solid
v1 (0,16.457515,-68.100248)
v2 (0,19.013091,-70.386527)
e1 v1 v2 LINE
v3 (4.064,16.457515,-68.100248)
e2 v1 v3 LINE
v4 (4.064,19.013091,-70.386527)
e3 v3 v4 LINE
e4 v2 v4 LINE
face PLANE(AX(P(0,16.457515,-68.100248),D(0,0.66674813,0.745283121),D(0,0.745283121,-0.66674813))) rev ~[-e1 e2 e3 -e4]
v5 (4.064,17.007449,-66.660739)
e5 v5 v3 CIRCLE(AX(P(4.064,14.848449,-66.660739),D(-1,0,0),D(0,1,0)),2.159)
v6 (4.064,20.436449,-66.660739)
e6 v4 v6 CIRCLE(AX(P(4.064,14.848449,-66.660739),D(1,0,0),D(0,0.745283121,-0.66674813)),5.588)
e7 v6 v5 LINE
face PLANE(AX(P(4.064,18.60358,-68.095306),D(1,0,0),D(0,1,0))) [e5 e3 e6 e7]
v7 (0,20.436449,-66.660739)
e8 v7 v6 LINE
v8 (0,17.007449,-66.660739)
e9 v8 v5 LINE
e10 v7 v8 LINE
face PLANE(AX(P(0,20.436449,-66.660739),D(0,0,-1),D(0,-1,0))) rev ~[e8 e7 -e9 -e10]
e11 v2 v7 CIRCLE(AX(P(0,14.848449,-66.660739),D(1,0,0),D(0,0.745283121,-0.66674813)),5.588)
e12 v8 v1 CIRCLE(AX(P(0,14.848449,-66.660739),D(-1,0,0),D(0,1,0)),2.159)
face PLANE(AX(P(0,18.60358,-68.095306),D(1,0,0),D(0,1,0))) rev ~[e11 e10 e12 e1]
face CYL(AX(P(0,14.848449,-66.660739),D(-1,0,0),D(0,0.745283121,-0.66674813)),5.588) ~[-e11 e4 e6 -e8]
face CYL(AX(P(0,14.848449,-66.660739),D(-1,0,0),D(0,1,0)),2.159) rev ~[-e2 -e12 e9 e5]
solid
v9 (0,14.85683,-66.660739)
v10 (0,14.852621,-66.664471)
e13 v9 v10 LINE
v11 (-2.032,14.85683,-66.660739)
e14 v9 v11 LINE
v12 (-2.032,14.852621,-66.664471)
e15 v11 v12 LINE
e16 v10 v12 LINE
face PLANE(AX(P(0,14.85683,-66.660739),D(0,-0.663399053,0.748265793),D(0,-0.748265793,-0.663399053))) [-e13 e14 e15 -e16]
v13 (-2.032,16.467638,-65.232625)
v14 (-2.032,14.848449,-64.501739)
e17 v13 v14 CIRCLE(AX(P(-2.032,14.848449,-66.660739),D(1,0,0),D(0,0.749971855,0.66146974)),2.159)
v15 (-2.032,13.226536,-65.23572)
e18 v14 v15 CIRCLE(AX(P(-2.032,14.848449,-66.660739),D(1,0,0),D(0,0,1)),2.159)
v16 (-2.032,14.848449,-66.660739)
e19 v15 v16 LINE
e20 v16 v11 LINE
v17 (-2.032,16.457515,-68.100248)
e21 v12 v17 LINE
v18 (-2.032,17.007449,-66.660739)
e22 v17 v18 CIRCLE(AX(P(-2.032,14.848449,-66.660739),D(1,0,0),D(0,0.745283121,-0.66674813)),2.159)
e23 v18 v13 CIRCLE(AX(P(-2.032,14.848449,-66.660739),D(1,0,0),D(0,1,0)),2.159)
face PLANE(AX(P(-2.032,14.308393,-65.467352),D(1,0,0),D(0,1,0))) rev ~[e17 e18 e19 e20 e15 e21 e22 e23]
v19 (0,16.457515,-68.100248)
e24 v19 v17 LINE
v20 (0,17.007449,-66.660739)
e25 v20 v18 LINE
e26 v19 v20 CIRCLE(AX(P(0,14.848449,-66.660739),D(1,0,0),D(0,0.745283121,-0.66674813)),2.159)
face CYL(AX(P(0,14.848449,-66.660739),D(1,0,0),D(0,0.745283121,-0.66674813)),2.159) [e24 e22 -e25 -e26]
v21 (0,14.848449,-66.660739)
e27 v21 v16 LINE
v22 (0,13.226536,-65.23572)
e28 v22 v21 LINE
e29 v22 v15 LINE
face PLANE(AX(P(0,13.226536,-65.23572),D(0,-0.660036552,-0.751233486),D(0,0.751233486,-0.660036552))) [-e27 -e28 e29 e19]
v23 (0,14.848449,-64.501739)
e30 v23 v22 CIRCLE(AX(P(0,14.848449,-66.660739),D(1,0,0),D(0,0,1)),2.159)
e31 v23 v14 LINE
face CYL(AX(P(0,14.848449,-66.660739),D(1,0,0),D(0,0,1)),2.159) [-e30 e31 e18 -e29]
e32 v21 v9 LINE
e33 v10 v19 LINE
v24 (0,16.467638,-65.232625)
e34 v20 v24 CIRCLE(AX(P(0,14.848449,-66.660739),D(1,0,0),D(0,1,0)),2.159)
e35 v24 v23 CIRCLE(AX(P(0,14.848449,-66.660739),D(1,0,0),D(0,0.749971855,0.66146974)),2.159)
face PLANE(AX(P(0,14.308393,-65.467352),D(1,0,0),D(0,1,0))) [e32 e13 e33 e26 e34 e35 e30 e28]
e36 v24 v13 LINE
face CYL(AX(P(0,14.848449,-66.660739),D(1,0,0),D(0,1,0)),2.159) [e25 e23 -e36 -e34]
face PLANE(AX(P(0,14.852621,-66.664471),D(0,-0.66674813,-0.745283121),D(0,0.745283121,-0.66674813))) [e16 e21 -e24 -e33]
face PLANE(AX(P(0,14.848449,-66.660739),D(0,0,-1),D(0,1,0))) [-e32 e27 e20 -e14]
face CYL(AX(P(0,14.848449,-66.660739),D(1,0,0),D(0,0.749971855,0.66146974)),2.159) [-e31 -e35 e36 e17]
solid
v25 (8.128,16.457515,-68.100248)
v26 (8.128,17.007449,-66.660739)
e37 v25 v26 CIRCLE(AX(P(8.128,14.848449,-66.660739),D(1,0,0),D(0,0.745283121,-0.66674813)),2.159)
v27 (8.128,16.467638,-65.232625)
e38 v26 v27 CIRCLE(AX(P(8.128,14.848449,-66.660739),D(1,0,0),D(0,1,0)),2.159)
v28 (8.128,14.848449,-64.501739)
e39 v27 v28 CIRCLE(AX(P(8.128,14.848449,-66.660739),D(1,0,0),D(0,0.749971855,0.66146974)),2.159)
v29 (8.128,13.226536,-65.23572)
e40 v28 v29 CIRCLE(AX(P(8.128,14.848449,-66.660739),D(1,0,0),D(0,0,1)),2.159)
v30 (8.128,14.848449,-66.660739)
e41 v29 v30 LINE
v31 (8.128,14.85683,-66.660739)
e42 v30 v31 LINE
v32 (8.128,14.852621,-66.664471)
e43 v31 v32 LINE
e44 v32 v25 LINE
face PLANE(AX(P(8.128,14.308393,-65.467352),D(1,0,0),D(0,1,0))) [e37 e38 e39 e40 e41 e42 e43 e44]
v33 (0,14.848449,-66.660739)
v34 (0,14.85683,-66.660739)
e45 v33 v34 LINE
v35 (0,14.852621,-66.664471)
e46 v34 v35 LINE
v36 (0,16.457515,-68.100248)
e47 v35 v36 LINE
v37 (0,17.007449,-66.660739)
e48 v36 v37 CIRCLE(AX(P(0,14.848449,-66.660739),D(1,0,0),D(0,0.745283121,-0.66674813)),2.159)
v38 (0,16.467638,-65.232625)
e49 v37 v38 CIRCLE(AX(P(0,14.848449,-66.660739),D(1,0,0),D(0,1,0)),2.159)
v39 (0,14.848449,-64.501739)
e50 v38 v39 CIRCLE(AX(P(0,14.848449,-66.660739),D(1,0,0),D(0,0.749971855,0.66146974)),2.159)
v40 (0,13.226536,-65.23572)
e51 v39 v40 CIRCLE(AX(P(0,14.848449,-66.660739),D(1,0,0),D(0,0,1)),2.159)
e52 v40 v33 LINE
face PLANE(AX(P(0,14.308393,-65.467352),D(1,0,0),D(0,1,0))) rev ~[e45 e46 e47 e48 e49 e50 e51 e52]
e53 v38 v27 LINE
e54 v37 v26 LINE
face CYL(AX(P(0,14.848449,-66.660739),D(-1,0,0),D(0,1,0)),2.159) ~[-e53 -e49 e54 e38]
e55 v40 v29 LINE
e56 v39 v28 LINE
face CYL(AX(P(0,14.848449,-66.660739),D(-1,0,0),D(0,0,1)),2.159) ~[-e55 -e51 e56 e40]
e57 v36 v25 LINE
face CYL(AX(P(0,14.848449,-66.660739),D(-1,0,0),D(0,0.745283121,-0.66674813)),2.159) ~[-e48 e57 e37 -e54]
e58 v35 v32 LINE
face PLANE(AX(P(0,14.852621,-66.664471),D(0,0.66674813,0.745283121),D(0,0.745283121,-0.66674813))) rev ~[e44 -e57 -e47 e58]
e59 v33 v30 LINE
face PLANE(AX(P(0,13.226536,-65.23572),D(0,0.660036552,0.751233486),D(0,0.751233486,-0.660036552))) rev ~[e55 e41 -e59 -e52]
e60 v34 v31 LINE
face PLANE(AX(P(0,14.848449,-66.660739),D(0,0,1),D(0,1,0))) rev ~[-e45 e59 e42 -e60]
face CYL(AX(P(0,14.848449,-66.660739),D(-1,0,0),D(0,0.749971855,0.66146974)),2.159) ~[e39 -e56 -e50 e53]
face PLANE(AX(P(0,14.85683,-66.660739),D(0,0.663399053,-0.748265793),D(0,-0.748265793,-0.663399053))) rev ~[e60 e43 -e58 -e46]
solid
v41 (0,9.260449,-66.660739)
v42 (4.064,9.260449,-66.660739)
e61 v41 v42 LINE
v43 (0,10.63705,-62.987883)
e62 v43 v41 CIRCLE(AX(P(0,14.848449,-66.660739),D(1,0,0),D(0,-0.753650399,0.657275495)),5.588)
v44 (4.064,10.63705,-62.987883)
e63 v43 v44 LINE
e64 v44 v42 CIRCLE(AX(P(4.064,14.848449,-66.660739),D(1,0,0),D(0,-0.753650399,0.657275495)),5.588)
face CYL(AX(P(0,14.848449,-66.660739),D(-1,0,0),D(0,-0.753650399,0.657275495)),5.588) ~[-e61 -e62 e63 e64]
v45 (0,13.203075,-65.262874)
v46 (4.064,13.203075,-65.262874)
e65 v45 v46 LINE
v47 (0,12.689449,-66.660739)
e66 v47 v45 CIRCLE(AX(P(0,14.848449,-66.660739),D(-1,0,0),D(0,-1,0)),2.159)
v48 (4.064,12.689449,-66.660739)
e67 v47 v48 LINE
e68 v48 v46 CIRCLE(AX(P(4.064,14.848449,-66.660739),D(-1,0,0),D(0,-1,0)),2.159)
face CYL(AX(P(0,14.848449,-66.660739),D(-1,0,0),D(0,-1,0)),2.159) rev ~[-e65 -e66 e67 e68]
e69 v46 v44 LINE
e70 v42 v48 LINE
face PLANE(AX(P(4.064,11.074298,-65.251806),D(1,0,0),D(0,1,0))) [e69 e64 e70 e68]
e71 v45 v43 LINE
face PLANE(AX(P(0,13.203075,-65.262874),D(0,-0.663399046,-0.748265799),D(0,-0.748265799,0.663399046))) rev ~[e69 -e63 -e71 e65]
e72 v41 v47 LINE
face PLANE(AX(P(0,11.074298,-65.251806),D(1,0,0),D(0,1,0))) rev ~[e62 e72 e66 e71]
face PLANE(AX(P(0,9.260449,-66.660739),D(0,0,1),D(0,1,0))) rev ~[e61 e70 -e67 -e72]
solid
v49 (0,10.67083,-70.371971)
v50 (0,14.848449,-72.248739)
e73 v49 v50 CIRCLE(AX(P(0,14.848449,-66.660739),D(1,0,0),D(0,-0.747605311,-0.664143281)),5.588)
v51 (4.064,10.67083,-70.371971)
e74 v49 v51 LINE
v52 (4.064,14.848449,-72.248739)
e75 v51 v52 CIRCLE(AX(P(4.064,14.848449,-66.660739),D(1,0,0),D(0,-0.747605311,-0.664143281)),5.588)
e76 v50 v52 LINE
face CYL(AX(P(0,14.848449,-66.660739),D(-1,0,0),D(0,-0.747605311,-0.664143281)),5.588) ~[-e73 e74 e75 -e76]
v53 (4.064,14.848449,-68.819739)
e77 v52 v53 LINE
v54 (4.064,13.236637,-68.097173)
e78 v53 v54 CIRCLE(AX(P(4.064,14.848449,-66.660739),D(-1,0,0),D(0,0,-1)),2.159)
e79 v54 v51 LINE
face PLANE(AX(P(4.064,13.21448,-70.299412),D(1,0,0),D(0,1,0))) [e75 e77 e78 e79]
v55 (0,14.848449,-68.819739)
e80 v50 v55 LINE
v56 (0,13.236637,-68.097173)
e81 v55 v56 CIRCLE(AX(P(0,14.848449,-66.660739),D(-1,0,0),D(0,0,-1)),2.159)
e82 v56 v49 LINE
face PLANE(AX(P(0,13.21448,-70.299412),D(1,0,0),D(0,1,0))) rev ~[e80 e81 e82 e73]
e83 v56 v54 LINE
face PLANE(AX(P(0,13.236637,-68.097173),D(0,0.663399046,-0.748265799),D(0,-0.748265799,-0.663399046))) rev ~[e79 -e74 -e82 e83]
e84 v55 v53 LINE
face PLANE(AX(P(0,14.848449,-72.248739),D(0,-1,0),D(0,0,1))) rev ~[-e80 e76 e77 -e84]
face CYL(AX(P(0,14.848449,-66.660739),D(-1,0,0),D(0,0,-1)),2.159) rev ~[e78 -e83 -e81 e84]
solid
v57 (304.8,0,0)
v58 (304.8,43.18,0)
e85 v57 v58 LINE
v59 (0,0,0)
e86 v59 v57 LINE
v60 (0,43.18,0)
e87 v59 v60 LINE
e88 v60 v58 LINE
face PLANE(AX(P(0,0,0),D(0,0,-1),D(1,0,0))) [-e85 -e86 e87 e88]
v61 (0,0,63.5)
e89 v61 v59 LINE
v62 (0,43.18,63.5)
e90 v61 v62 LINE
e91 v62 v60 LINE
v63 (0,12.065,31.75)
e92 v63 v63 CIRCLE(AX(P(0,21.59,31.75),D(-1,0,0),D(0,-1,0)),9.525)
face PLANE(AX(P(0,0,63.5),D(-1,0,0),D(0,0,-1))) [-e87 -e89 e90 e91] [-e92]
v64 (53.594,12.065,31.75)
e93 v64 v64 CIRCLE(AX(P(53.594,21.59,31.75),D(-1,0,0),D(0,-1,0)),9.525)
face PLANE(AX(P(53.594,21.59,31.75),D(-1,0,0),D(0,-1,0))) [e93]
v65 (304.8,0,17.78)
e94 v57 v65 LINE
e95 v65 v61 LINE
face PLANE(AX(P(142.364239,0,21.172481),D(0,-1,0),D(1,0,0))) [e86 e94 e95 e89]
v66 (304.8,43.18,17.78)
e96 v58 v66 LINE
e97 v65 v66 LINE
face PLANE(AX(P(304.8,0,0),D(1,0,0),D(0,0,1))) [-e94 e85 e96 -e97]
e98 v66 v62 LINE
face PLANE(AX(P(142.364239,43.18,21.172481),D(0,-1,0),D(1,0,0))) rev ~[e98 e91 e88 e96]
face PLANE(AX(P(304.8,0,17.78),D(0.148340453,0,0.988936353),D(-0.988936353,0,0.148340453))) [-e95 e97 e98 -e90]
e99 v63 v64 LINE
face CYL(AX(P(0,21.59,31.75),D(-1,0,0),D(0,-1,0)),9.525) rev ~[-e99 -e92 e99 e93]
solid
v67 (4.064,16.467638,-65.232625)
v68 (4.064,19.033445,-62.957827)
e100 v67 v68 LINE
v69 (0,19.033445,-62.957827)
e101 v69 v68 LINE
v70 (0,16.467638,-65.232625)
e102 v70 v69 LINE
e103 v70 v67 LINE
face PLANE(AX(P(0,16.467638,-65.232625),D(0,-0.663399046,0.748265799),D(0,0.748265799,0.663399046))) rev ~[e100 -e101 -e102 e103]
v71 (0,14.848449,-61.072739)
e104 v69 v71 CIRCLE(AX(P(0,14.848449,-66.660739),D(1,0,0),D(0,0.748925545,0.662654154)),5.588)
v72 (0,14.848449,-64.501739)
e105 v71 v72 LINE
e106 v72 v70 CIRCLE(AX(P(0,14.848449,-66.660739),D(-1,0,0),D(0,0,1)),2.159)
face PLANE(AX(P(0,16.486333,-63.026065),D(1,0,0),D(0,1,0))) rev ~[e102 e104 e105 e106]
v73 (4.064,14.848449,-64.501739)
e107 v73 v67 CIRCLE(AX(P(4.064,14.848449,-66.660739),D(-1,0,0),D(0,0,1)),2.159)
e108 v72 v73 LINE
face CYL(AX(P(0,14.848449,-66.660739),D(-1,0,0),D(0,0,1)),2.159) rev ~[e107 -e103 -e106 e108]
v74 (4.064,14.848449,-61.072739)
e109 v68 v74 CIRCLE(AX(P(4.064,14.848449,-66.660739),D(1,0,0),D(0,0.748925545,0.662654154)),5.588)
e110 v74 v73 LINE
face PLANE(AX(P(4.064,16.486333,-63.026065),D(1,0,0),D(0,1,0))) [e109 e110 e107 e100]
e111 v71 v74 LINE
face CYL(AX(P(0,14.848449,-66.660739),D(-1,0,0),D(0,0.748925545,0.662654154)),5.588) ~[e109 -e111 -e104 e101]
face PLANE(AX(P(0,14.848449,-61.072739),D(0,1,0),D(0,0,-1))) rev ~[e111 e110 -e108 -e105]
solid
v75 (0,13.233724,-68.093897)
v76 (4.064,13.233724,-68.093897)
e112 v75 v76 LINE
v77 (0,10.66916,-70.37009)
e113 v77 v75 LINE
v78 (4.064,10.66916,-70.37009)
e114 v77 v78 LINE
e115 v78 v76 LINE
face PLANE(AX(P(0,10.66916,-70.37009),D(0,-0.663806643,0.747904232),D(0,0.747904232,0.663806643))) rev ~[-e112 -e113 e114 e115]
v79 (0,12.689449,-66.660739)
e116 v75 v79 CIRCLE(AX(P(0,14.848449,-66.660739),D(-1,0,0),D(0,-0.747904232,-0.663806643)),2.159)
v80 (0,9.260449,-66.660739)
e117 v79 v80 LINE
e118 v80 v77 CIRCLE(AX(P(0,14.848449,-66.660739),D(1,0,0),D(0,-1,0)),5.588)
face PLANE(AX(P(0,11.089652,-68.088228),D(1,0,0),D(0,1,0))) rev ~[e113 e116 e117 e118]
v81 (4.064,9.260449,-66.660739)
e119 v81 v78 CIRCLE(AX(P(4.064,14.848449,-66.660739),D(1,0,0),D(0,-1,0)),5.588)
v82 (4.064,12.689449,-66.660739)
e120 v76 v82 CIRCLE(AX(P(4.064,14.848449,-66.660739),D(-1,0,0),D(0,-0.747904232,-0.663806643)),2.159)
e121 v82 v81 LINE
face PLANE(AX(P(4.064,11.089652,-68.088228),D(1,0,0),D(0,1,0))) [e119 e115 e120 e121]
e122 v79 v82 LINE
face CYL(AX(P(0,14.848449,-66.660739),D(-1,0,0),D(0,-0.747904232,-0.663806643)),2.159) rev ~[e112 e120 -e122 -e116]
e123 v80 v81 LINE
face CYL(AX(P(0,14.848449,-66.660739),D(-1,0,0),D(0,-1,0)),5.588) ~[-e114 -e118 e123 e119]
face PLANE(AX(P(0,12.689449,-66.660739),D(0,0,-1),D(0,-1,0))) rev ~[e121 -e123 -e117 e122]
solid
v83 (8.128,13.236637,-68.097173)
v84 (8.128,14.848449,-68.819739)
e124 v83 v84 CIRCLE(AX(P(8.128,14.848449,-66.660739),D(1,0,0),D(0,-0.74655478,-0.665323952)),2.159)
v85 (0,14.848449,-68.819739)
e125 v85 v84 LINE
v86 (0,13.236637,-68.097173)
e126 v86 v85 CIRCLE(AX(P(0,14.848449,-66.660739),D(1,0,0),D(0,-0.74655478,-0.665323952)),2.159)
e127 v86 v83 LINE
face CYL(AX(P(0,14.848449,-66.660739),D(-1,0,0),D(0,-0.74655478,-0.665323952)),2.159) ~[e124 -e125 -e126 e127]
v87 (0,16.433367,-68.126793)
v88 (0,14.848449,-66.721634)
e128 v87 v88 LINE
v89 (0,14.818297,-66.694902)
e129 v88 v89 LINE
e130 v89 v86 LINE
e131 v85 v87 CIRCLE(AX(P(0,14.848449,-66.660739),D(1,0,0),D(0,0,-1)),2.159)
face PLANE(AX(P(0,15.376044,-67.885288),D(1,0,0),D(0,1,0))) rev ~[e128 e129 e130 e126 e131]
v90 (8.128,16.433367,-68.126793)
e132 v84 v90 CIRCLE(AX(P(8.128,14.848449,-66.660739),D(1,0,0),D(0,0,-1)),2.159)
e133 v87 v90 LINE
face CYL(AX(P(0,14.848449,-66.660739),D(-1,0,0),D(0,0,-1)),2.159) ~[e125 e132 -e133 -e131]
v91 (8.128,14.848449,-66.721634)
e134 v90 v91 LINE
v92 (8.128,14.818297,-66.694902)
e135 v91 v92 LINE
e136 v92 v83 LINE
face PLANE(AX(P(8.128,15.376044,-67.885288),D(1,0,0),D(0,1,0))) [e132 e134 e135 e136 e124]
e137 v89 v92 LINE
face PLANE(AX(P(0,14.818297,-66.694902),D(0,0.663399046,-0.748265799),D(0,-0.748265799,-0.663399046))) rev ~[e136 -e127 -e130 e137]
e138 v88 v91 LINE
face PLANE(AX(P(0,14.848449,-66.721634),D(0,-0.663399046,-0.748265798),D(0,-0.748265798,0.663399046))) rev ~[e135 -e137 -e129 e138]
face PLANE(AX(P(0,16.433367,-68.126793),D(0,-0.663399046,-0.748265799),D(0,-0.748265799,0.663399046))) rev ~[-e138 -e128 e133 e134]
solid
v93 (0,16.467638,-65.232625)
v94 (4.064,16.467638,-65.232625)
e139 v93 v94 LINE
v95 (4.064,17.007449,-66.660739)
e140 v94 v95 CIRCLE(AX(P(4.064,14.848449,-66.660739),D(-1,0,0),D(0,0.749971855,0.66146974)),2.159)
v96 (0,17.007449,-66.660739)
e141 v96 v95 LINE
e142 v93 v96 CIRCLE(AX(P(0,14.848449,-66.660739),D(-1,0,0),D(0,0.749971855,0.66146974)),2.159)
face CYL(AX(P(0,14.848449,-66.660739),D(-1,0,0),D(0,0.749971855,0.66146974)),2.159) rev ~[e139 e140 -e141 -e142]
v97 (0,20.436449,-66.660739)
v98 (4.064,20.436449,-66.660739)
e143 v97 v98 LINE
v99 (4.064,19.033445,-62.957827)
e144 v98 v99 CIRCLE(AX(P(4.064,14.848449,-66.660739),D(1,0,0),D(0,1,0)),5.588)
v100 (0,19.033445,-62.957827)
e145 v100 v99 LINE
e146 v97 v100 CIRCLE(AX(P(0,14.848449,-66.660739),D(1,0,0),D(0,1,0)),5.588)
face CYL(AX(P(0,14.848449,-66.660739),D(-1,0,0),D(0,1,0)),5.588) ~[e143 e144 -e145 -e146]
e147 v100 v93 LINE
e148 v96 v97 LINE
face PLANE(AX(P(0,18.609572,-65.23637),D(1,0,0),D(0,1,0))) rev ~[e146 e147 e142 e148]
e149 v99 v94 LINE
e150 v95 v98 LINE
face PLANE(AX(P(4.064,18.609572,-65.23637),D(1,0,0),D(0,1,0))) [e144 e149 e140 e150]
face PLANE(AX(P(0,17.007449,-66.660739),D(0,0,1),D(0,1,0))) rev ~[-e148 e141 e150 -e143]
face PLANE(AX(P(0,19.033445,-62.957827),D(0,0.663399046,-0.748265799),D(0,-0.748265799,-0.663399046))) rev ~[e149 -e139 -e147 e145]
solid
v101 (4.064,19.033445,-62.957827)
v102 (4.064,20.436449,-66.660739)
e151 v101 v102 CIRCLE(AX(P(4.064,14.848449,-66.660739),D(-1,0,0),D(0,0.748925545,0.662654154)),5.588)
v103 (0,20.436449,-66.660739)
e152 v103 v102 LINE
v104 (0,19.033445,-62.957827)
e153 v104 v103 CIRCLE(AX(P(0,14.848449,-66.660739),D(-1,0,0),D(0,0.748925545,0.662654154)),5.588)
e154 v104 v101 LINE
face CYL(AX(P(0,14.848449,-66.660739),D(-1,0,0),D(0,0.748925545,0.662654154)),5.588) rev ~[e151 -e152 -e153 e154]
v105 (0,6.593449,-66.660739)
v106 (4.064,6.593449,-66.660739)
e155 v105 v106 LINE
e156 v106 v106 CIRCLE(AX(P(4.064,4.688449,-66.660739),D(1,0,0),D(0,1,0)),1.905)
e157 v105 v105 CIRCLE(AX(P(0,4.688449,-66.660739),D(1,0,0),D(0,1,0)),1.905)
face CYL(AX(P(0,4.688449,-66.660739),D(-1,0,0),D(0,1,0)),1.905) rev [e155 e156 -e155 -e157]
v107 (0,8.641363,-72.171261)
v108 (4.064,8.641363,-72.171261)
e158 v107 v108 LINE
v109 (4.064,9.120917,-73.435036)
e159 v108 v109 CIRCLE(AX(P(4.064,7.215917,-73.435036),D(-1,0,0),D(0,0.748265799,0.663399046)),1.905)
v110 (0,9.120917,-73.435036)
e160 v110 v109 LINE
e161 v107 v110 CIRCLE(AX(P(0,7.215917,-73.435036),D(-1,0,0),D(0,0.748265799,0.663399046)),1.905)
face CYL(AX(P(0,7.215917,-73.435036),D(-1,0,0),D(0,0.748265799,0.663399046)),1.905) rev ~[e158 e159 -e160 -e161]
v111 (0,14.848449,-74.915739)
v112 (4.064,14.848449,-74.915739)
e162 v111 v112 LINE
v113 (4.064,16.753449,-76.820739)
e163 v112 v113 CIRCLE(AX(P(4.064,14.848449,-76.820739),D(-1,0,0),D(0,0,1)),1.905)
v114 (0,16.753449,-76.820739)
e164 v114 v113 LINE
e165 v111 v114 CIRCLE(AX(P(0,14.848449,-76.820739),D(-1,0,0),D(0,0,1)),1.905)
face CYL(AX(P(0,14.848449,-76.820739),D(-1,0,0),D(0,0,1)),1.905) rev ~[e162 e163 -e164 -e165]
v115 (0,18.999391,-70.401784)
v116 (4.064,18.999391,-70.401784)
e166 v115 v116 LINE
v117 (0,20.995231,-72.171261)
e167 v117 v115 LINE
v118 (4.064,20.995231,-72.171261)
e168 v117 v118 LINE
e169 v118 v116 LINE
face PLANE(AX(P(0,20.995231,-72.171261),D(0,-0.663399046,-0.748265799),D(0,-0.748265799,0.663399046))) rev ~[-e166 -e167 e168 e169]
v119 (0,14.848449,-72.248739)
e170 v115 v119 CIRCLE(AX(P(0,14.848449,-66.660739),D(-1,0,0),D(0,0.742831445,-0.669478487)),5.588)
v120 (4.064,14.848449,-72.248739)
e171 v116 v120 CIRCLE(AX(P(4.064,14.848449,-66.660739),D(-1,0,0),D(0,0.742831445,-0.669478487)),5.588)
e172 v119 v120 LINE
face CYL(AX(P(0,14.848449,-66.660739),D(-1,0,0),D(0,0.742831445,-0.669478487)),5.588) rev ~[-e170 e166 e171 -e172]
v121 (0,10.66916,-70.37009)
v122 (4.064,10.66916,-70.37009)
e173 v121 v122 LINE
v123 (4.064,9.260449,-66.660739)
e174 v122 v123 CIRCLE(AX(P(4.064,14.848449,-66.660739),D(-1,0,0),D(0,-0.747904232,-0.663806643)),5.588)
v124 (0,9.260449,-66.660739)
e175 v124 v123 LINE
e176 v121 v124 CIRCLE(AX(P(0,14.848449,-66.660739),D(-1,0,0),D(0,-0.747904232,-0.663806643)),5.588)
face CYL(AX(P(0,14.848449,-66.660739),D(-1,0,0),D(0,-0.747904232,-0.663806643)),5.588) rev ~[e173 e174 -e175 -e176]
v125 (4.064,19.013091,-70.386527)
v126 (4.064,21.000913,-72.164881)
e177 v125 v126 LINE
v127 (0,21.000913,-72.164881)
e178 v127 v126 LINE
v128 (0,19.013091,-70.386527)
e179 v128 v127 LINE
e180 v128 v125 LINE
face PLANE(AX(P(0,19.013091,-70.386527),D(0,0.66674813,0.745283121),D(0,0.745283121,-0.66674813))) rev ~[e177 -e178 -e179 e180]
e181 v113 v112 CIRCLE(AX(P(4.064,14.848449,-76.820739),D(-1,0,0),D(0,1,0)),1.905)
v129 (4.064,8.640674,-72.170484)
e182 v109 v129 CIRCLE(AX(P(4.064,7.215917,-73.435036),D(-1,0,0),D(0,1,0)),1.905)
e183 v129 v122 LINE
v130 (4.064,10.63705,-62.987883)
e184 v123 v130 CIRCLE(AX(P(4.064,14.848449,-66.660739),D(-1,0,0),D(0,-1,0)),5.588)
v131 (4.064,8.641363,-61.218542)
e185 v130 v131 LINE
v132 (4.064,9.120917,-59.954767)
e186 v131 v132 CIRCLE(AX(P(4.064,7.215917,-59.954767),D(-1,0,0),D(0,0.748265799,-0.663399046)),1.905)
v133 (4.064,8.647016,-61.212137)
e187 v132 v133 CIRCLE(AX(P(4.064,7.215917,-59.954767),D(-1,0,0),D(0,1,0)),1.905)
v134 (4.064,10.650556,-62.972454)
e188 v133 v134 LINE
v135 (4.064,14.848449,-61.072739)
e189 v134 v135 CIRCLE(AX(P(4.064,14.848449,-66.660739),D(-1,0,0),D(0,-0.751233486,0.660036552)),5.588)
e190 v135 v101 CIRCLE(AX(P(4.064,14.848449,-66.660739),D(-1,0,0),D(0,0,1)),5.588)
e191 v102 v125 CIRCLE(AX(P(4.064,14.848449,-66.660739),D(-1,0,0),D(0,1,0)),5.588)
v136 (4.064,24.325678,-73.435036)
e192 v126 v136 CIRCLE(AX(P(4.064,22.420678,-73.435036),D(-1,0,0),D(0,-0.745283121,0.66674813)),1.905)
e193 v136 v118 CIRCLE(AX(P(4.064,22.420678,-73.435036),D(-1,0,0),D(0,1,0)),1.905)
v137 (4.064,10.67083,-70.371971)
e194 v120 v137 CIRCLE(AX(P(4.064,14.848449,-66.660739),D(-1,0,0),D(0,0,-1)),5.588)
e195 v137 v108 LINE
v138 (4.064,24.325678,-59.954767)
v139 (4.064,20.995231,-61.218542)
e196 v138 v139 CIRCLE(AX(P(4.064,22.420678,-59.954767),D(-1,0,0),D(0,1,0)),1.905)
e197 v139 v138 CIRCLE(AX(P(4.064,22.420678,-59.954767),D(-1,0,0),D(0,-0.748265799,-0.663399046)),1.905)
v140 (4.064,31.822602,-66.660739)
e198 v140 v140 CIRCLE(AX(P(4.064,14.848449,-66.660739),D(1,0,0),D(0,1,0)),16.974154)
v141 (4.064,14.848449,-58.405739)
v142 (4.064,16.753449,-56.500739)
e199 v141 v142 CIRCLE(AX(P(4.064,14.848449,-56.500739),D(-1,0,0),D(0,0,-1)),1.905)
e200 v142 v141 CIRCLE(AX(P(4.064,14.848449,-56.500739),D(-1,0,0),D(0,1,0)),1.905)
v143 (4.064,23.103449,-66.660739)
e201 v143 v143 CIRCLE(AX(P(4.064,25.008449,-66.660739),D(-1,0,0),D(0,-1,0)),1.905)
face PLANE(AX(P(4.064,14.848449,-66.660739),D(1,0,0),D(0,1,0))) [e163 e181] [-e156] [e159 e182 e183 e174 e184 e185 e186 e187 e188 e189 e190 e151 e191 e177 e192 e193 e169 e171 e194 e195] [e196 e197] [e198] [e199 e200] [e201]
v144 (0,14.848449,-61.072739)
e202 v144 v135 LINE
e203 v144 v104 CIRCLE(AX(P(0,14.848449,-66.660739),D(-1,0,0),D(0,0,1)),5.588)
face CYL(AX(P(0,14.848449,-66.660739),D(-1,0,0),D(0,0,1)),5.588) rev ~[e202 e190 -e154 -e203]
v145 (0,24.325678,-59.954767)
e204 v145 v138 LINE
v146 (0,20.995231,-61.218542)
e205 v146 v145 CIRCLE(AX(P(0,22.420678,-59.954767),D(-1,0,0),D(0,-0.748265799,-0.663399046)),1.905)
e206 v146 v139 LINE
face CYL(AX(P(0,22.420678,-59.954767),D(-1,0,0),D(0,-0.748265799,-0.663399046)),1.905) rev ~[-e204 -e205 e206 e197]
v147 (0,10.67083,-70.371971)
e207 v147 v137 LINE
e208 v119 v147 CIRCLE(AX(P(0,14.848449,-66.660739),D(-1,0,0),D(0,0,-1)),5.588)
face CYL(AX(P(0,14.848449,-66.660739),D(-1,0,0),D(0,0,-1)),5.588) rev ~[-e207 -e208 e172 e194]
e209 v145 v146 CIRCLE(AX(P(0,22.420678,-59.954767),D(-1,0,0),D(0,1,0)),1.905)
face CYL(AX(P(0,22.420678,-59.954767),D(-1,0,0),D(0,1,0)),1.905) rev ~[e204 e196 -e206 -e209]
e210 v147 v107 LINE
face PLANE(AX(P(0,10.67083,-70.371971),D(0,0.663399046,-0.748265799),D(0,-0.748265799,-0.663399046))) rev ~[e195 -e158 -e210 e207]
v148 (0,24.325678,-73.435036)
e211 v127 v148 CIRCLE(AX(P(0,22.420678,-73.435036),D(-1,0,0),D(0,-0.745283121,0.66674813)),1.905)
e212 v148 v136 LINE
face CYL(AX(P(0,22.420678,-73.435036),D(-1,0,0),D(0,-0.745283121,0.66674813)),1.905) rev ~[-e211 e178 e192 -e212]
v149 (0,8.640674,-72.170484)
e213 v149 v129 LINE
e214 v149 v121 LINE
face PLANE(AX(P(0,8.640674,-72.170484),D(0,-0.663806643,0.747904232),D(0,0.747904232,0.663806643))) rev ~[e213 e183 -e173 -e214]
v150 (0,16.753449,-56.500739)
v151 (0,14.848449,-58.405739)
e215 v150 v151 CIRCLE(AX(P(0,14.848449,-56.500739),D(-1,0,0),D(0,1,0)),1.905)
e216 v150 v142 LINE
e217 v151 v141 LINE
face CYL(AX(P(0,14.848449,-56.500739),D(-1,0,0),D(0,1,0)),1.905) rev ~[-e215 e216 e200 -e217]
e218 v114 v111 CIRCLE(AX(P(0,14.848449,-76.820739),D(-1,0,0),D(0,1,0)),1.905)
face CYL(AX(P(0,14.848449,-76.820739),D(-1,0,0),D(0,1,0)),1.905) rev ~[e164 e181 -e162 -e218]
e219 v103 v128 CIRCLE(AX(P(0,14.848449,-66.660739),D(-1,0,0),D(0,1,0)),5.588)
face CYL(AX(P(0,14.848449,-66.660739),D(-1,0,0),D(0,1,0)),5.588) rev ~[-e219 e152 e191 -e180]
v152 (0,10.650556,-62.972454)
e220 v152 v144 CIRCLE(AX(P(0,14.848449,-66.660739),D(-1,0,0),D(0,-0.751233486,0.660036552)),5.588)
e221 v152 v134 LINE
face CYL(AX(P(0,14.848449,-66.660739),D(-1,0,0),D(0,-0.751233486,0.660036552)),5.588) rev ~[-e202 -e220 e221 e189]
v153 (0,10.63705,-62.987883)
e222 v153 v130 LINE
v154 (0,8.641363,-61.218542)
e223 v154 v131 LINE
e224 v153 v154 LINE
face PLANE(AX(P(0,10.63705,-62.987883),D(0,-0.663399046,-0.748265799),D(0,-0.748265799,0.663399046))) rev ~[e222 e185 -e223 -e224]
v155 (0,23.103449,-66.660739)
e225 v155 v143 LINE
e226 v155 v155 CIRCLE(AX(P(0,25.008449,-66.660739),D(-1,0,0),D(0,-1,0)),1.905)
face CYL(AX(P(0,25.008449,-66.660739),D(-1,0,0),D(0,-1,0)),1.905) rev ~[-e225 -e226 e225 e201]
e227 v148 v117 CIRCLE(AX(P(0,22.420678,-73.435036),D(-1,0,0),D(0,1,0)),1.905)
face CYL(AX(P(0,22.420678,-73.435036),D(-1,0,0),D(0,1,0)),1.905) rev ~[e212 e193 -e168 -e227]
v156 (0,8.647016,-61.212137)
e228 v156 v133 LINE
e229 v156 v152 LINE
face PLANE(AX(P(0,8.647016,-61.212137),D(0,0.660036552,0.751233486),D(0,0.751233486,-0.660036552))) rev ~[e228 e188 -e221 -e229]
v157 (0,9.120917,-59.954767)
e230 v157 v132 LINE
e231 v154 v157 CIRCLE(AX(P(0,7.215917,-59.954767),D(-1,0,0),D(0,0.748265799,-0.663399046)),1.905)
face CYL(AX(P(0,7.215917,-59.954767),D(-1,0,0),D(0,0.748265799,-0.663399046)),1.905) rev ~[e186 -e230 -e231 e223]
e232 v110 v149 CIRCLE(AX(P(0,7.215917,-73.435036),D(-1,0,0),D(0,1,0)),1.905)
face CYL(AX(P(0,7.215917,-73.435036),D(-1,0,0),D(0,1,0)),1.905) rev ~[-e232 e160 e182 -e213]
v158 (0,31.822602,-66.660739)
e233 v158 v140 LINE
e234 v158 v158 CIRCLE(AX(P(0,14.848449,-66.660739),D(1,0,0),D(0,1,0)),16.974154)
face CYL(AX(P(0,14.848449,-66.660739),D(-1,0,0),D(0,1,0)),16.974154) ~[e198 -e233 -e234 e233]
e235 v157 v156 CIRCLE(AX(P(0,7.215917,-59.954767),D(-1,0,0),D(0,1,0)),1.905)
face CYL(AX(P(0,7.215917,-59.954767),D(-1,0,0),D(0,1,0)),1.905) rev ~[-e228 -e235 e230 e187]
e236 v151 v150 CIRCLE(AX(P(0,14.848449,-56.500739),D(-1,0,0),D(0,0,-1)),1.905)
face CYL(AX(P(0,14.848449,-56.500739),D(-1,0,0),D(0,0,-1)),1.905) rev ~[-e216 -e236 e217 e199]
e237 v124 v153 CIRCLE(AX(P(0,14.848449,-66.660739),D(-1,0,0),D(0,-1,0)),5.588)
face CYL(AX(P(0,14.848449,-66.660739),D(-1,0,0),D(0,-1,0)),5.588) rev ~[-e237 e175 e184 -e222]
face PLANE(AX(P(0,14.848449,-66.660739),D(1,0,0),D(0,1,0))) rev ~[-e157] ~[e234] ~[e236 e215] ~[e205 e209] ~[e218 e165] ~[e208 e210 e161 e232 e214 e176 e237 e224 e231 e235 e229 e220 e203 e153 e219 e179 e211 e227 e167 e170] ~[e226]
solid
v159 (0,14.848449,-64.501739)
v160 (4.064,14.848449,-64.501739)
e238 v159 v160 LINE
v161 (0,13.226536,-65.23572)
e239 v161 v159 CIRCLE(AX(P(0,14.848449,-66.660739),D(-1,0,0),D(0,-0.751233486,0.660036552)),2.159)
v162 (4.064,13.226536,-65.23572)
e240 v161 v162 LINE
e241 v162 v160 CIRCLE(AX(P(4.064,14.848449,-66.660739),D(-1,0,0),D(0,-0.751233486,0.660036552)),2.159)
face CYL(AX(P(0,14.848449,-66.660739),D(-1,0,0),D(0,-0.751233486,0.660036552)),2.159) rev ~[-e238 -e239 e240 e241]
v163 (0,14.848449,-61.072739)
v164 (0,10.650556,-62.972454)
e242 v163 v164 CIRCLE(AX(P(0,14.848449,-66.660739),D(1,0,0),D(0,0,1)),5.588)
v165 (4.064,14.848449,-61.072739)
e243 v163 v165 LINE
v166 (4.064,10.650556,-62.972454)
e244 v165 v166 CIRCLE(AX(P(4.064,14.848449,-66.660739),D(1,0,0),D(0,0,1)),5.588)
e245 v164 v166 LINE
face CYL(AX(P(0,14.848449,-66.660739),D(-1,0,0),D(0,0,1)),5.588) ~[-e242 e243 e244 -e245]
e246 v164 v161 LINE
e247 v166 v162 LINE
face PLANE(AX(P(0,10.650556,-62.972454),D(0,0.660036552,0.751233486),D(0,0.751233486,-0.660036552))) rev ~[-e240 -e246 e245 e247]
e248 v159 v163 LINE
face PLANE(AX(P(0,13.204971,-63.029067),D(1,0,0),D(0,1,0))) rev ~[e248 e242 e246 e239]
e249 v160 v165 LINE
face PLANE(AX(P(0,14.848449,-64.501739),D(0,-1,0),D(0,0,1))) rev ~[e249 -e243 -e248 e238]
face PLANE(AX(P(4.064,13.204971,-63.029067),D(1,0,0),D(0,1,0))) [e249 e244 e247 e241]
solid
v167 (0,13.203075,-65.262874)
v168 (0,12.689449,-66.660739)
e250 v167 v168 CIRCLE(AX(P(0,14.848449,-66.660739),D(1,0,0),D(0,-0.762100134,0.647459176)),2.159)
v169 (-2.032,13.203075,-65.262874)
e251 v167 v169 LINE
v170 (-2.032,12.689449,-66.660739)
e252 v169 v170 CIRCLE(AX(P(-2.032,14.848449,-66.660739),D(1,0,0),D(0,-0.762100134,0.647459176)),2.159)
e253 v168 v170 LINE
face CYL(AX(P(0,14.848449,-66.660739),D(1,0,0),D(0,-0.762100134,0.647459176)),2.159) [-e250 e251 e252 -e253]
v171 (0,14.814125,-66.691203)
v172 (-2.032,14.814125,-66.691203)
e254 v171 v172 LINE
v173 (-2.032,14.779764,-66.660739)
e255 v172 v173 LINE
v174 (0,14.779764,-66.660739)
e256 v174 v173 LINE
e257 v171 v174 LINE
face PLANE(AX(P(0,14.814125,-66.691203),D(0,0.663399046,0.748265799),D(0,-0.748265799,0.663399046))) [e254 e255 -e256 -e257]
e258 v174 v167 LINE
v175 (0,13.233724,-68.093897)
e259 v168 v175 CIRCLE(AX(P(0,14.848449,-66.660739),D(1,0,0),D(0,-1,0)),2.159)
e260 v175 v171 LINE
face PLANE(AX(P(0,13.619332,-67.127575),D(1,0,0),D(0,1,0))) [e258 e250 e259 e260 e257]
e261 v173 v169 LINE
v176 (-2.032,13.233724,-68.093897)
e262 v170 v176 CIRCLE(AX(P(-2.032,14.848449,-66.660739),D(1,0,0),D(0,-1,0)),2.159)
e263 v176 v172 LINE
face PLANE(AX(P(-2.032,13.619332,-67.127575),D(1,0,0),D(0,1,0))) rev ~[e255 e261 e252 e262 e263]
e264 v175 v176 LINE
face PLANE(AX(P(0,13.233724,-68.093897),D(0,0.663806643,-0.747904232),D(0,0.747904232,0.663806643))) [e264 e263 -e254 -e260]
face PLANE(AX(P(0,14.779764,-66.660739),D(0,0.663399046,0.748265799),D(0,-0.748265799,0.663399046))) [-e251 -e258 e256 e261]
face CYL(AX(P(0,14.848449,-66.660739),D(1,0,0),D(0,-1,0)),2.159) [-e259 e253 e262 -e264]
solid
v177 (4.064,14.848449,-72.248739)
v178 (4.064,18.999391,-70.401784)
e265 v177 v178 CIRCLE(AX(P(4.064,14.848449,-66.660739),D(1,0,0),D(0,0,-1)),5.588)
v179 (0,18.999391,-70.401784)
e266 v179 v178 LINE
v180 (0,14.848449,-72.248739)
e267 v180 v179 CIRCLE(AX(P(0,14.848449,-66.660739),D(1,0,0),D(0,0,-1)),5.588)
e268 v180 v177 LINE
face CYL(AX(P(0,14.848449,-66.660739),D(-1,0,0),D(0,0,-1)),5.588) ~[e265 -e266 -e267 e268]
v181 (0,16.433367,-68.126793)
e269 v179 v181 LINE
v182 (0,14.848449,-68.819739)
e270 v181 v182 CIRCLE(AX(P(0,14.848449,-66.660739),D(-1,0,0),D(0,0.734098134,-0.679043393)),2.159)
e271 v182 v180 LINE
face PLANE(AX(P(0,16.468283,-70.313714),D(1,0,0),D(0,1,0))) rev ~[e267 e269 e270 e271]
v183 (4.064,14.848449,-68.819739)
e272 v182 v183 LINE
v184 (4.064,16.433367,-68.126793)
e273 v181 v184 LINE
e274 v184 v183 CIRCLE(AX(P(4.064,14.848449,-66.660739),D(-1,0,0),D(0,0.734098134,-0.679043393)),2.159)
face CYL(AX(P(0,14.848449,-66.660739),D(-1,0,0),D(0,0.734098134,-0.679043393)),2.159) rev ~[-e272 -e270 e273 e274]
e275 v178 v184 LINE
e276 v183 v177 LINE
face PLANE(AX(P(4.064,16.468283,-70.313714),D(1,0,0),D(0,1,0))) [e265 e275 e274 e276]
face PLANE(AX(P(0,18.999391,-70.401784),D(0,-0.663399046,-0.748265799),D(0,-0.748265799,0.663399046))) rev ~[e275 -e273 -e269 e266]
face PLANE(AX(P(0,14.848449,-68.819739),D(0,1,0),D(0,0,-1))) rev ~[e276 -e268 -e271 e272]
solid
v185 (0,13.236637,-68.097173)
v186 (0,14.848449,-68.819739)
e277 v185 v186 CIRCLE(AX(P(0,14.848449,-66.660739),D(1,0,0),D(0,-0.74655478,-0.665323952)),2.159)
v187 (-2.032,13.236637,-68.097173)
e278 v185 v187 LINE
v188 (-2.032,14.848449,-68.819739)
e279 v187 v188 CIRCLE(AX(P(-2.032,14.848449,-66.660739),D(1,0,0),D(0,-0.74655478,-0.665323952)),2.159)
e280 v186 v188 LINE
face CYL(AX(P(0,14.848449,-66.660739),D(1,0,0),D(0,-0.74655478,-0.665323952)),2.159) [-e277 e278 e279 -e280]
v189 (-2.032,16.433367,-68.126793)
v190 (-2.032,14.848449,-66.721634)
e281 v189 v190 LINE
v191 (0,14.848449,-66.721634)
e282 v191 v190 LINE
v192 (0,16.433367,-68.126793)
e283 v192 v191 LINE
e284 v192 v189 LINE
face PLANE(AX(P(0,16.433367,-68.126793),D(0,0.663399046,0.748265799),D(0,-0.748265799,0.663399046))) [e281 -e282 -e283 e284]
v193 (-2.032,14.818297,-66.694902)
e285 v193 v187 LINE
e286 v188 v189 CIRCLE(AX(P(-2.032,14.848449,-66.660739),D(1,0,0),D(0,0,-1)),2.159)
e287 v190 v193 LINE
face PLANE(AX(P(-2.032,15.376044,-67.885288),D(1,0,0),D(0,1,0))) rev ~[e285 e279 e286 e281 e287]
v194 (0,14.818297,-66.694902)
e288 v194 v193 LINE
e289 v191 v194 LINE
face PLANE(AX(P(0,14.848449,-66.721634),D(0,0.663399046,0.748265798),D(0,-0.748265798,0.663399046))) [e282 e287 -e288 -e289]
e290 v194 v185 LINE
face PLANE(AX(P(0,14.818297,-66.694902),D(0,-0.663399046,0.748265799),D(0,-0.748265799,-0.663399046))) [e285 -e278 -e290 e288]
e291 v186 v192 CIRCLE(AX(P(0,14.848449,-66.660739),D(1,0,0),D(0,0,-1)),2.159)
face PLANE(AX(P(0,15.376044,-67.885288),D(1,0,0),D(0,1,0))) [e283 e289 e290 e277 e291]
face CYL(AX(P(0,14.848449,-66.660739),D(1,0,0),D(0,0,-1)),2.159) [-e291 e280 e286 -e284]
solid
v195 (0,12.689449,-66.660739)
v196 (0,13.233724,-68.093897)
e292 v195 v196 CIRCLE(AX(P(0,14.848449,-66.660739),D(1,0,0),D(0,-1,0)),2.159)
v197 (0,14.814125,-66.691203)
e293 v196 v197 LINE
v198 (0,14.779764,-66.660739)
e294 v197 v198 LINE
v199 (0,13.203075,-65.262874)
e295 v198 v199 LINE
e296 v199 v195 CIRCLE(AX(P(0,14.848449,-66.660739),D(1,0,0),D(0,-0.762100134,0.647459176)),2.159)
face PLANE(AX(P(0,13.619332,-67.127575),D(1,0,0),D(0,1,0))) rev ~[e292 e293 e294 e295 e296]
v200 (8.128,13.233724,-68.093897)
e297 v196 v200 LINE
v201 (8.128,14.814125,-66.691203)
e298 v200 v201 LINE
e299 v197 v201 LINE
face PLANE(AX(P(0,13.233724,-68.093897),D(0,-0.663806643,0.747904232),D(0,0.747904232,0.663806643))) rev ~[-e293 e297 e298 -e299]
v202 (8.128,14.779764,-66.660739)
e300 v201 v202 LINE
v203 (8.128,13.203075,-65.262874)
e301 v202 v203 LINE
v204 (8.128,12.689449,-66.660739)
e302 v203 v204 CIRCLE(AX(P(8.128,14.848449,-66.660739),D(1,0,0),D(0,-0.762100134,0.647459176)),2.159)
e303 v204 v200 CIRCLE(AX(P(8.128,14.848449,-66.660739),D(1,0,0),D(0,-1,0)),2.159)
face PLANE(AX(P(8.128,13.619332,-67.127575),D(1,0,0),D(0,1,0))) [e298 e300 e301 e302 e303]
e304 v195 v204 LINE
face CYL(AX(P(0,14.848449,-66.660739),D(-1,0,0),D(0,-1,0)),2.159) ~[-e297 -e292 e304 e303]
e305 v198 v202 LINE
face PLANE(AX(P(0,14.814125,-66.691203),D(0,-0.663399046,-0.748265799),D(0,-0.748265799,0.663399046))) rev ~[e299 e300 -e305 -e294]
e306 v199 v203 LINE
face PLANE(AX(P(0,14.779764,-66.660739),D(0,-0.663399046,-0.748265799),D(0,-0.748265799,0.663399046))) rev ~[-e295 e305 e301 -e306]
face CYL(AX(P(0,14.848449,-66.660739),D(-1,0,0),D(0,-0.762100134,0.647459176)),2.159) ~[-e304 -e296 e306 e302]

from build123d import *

# Parameters (mm, degrees)
F1_DEPTH  = 43.18
F2_R      = 9.525
F3_DEPTH  = 53.594
F5_DEPTH  = 8.128
F4_R      = 16.9741536912
F4_R_2    = 1.905
F6_DEPTH  = 4.064
F7_DEPTH  = 4.064
F8_DEPTH  = 4.064
F9_DEPTH  = 4.064
F10_DEPTH = 4.064
F11_DEPTH = 4.064
F12_DEPTH = 4.064
F13_DEPTH = 4.064
F14_DEPTH = 4.064
F15_DEPTH = 2.032


with BuildPart() as f1:
    # F0 (on Front) → F1 (new body)
    with BuildSketch(Plane.XZ):
        Polygon((0, 63.5), (0, 0), (304.8, 0), (304.8, 17.78), align=None)
    extrude(amount=-F1_DEPTH)

    # F2 (on face) → F3 (cut)
    with BuildSketch(Plane(origin=(0, 0, 0), x_dir=(0, -1, 0), z_dir=(-1, 0, 0))):
        with Locations((-21.59, 31.75)):
            Circle(F2_R)
    extrude(amount=-F3_DEPTH, mode=Mode.SUBTRACT)


with BuildPart() as f5:
    # F4 (on Right) → F5 (new body)
    with BuildSketch(Plane.YZ):
        with BuildLine():
            ThreePointArc((14.8484487383, -68.8197386136), (15.7133385968, -68.6389313577), (16.43336661, -68.1267932988))
            Line((16.43336661, -68.1267932988), (14.8484487383, -66.7216335196))
            Line((14.8484487383, -66.7216335196), (14.8484487383, -68.8197386136))
        make_face()
        with BuildLine():
            ThreePointArc((13.2366369691, -68.0971730258), (13.9652672439, -68.6308328875), (14.8484487383, -68.8197386136))
            Line((14.8484487383, -68.8197386136), (14.8484487383, -66.7216335196))
            Line((14.8484487383, -66.7216335196), (14.8182970344, -66.6949015593))
            Line((14.8182970344, -66.6949015593), (13.2366369691, -68.0971730258))
        make_face()
    extrude(amount=F5_DEPTH)


with BuildPart() as f5b:
    # F4 (on Right) → F5, piece 2 (new body)
    with BuildSketch(Plane.YZ):
        with BuildLine():
            Line((14.8141250754, -66.6912027752), (14.7797637203, -66.6607386136))
            Line((14.7797637203, -66.6607386136), (12.6894487383, -66.6607386136))
            ThreePointArc((12.6894487383, -66.6607386136), (12.8300988197, -67.4272531966), (13.2337235006, -68.0938971557))
            Line((13.2337235006, -68.0938971557), (14.8141250754, -66.6912027752))
        make_face()
        with BuildLine():
            Line((12.6894487383, -66.6607386136), (14.7797637203, -66.6607386136))
            Line((14.7797637203, -66.6607386136), (13.203074548, -65.2628742518))
            ThreePointArc((13.203074548, -65.2628742518), (12.8219192077, -65.9161185349), (12.6894487383, -66.6607386136))
        make_face()
    extrude(amount=F5_DEPTH)


with BuildPart() as f5c:
    # F4 (on Right) → F5, piece 3 (new body)
    with BuildSketch(Plane.YZ):
        with BuildLine():
            Line((14.8484487383, -66.6607386136), (14.8484487383, -64.5017386136))
            ThreePointArc((14.8484487383, -64.5017386136), (13.9583180842, -64.6937743489), (13.2265356419, -65.2357196987))
            Line((13.2265356419, -65.2357196987), (14.8484487383, -66.6607386136))
        make_face()
        with BuildLine():
            Line((14.8568303485, -66.6607386136), (16.4676379723, -65.2326254442))
            ThreePointArc((16.4676379723, -65.2326254442), (15.7367011425, -64.692925445), (14.8484487383, -64.5017386136))
            Line((14.8484487383, -64.5017386136), (14.8484487383, -66.6607386136))
            Line((14.8484487383, -66.6607386136), (14.8568303485, -66.6607386136))
        make_face()
        with BuildLine():
            Line((14.8568303485, -66.6607386136), (17.0074487383, -66.6607386136))
            ThreePointArc((17.0074487383, -66.6607386136), (16.8679920723, -65.8973738764), (16.4676379723, -65.2326254442))
            Line((16.4676379723, -65.2326254442), (14.8568303485, -66.6607386136))
        make_face()
        with BuildLine():
            ThreePointArc((16.4575149968, -68.1002478271), (16.8652847569, -67.431227727), (17.0074487383, -66.6607386136))
            Line((17.0074487383, -66.6607386136), (14.8568303485, -66.6607386136))
            Line((14.8568303485, -66.6607386136), (14.8526206226, -66.6644708812))
            Line((14.8526206226, -66.6644708812), (16.4575149968, -68.1002478271))
        make_face()
    extrude(amount=F5_DEPTH)


with BuildPart() as f6:
    # F4 (on Right) → F6 (new body)
    with BuildSketch(Plane.YZ):
        with Locations((14.8484487383, -66.6607386136)):
            Circle(F4_R)
        with BuildLine():
            ThreePointArc((19.0334446835, -62.9578271998), (20.0739392101, -64.680841311), (20.4364487383, -66.6607386136))
            ThreePointArc((20.4364487383, -66.6607386136), (20.0684949042, -68.6549457307), (19.0130908192, -70.3865271661))
            Line((19.0130908192, -70.3865271661), (21.000913203, -72.1648806808))
            ThreePointArc((21.000913203, -72.1648806808), (23.1005208841, -71.6554746762), (24.3256775488, -73.4350358691))
            ThreePointArc((24.3256775488, -73.4350358691), (21.744826341, -75.2161170422), (20.9952312023, -72.171260686))
            Line((20.9952312023, -72.171260686), (18.9993908505, -70.4017844007))
            ThreePointArc((18.9993908505, -70.4017844007), (17.1200979346, -71.7661625851), (14.8484487383, -72.2487386136))
            ThreePointArc((14.8484487383, -72.2487386136), (12.5585387057, -71.7579982737), (10.6708302578, -70.3719712702))
            Line((10.6708302578, -70.3719712702), (8.6413628665, -72.171260686))
            ThreePointArc((8.6413628665, -72.171260686), (8.9969976931, -72.7591846614), (9.1209165201, -73.4350358691))
            ThreePointArc((9.1209165201, -73.4350358691), (5.435019533, -74.1113722659), (8.6406740827, -72.1704842144))
            Line((8.6406740827, -72.1704842144), (10.6691598878, -70.3700901343))
            ThreePointArc((10.6691598878, -70.3700901343), (9.624484243, -68.6446587107), (9.2604487383, -66.6607386136))
            ThreePointArc((9.2604487383, -66.6607386136), (9.6159044991, -64.6995591765), (10.6370503075, -62.9878831499))
            Line((10.6370503075, -62.9878831499), (8.6413628665, -61.2185424325))
            ThreePointArc((8.6413628665, -61.2185424325), (5.434835347, -59.2789160417), (9.1209165201, -59.9547672494))
            ThreePointArc((9.1209165201, -59.9547672494), (8.9985087479, -60.6266228508), (8.647016311, -61.2121368802))
            Line((8.647016311, -61.2121368802), (10.6505560183, -62.9724543633))
            ThreePointArc((10.6505560183, -62.9724543633), (12.544581163, -61.5697722814), (14.8484487383, -61.0727386136))
            ThreePointArc((14.8484487383, -61.0727386136), (17.1434296772, -61.5657600572), (19.0334446835, -62.9578271998))
        make_face(mode=Mode.SUBTRACT)
        with BuildLine():
            ThreePointArc((16.7534487383, -76.8207386136), (13.5014103201, -78.1677770318), (14.8484487383, -74.9157386136))
            ThreePointArc((14.8484487383, -74.9157386136), (16.1954871565, -75.4737001954), (16.7534487383, -76.8207386136))
        make_face(mode=Mode.SUBTRACT)
        with Locations((4.6884487383, -66.6607386136)):
            Circle(F4_R_2, mode=Mode.SUBTRACT)
        with BuildLine():
            ThreePointArc((24.3256775488, -59.9547672494), (23.0965287565, -61.7358484225), (20.9952312023, -61.2185424325))
            ThreePointArc((20.9952312023, -61.2185424325), (21.744826341, -58.1736860764), (24.3256775488, -59.9547672494))
        make_face(mode=Mode.SUBTRACT)
        with BuildLine():
            ThreePointArc((26.9134487383, -66.6607386136), (25.0084487383, -68.5657386136), (23.1034487383, -66.6607386136))
            ThreePointArc((23.1034487383, -66.6607386136), (25.0084487383, -64.7557386136), (26.9134487383, -66.6607386136))
        make_face(mode=Mode.SUBTRACT)
        with BuildLine():
            ThreePointArc((16.7534487383, -56.5007386136), (16.1954871565, -57.8477770318), (14.8484487383, -58.4057386136))
            ThreePointArc((14.8484487383, -58.4057386136), (13.5014103201, -55.1537001954), (16.7534487383, -56.5007386136))
        make_face(mode=Mode.SUBTRACT)
    extrude(amount=F6_DEPTH)


with BuildPart() as f7:
    # F4 (on Right) → F7 (new body)
    with BuildSketch(Plane.YZ):
        with BuildLine():
            ThreePointArc((10.6708302578, -70.3719712702), (12.5585387057, -71.7579982737), (14.8484487383, -72.2487386136))
            Line((14.8484487383, -72.2487386136), (14.8484487383, -68.8197386136))
            ThreePointArc((14.8484487383, -68.8197386136), (13.9652672439, -68.6308328875), (13.2366369691, -68.0971730258))
            Line((13.2366369691, -68.0971730258), (10.6708302578, -70.3719712702))
        make_face()
    extrude(amount=F7_DEPTH)


with BuildPart() as f8:
    # F4 (on Right) → F8 (new body)
    with BuildSketch(Plane.YZ):
        with BuildLine():
            ThreePointArc((14.8484487383, -72.2487386136), (17.1200979346, -71.7661625851), (18.9993908505, -70.4017844007))
            Line((18.9993908505, -70.4017844007), (16.43336661, -68.1267932988))
            ThreePointArc((16.43336661, -68.1267932988), (15.7133385968, -68.6389313577), (14.8484487383, -68.8197386136))
            Line((14.8484487383, -68.8197386136), (14.8484487383, -72.2487386136))
        make_face()
    extrude(amount=F8_DEPTH)


with BuildPart() as f9:
    # F4 (on Right) → F9 (new body)
    with BuildSketch(Plane.YZ):
        with BuildLine():
            Line((17.0074487383, -66.6607386136), (20.4364487383, -66.6607386136))
            ThreePointArc((20.4364487383, -66.6607386136), (20.0739392101, -64.680841311), (19.0334446835, -62.9578271998))
            Line((19.0334446835, -62.9578271998), (16.4676379723, -65.2326254442))
            ThreePointArc((16.4676379723, -65.2326254442), (16.8679920723, -65.8973738764), (17.0074487383, -66.6607386136))
        make_face()
    extrude(amount=F9_DEPTH)


with BuildPart() as f10:
    # F4 (on Right) → F10 (new body)
    with BuildSketch(Plane.YZ):
        with BuildLine():
            ThreePointArc((19.0130908192, -70.3865271661), (20.0684949042, -68.6549457307), (20.4364487383, -66.6607386136))
            Line((20.4364487383, -66.6607386136), (17.0074487383, -66.6607386136))
            ThreePointArc((17.0074487383, -66.6607386136), (16.8652847569, -67.431227727), (16.4575149968, -68.1002478271))
            Line((16.4575149968, -68.1002478271), (19.0130908192, -70.3865271661))
        make_face()
    extrude(amount=F10_DEPTH)


with BuildPart() as f11:
    # F4 (on Right) → F11 (new body)
    with BuildSketch(Plane.YZ):
        with BuildLine():
            Line((14.8484487383, -64.5017386136), (14.8484487383, -61.0727386136))
            ThreePointArc((14.8484487383, -61.0727386136), (12.544581163, -61.5697722814), (10.6505560183, -62.9724543633))
            Line((10.6505560183, -62.9724543633), (13.2265356419, -65.2357196987))
            ThreePointArc((13.2265356419, -65.2357196987), (13.9583180842, -64.6937743489), (14.8484487383, -64.5017386136))
        make_face()
    extrude(amount=F11_DEPTH)


with BuildPart() as f12:
    # F4 (on Right) → F12 (new body)
    with BuildSketch(Plane.YZ):
        with BuildLine():
            Line((16.4676379723, -65.2326254442), (19.0334446835, -62.9578271998))
            ThreePointArc((19.0334446835, -62.9578271998), (17.1434296772, -61.5657600572), (14.8484487383, -61.0727386136))
            Line((14.8484487383, -61.0727386136), (14.8484487383, -64.5017386136))
            ThreePointArc((14.8484487383, -64.5017386136), (15.7367011425, -64.692925445), (16.4676379723, -65.2326254442))
        make_face()
    extrude(amount=F12_DEPTH)


with BuildPart() as f13:
    # F4 (on Right) → F13 (new body)
    with BuildSketch(Plane.YZ):
        with BuildLine():
            Line((13.203074548, -65.2628742518), (10.6370503075, -62.9878831499))
            ThreePointArc((10.6370503075, -62.9878831499), (9.6159044991, -64.6995591765), (9.2604487383, -66.6607386136))
            Line((9.2604487383, -66.6607386136), (12.6894487383, -66.6607386136))
            ThreePointArc((12.6894487383, -66.6607386136), (12.8219192077, -65.9161185349), (13.203074548, -65.2628742518))
        make_face()
    extrude(amount=F13_DEPTH)


with BuildPart() as f14:
    # F4 (on Right) → F14 (new body)
    with BuildSketch(Plane.YZ):
        with BuildLine():
            Line((12.6894487383, -66.6607386136), (9.2604487383, -66.6607386136))
            ThreePointArc((9.2604487383, -66.6607386136), (9.624484243, -68.6446587107), (10.6691598878, -70.3700901343))
            Line((10.6691598878, -70.3700901343), (13.2337235006, -68.0938971557))
            ThreePointArc((13.2337235006, -68.0938971557), (12.8300988197, -67.4272531966), (12.6894487383, -66.6607386136))
        make_face()
    extrude(amount=F14_DEPTH)


with BuildPart() as f15:
    # F15 (new): a face of the model
    f15_faces = [f5c.part.faces().sort_by_distance(p)[0] for p in [
        (0, 15.4545911791, -65.9770540202),
    ]]
    extrude(f15_faces, amount=F15_DEPTH)


with BuildPart() as f15b:
    # F15#2 (new): a face of the model
    f15_2_faces = [f5.part.faces().sort_by_distance(p)[0] for p in [
        (0, 14.8306208917, -67.9502157225),
    ]]
    extrude(f15_2_faces, amount=F15_DEPTH)


with BuildPart() as f15c:
    # F15#3 (new): a face of the model
    f15_3_faces = [f5b.part.faces().sort_by_distance(p)[0] for p in [
        (0, 13.5174077991, -66.6820471258),
    ]]
    extrude(f15_3_faces, amount=F15_DEPTH)


solid = Compound([f1.part, f5.part, f5b.part, f5c.part, f6.part, f7.part, f8.part, f9.part, f10.part, f11.part, f12.part, f13.part, f14.part, f15.part, f15b.part, f15c.part])
